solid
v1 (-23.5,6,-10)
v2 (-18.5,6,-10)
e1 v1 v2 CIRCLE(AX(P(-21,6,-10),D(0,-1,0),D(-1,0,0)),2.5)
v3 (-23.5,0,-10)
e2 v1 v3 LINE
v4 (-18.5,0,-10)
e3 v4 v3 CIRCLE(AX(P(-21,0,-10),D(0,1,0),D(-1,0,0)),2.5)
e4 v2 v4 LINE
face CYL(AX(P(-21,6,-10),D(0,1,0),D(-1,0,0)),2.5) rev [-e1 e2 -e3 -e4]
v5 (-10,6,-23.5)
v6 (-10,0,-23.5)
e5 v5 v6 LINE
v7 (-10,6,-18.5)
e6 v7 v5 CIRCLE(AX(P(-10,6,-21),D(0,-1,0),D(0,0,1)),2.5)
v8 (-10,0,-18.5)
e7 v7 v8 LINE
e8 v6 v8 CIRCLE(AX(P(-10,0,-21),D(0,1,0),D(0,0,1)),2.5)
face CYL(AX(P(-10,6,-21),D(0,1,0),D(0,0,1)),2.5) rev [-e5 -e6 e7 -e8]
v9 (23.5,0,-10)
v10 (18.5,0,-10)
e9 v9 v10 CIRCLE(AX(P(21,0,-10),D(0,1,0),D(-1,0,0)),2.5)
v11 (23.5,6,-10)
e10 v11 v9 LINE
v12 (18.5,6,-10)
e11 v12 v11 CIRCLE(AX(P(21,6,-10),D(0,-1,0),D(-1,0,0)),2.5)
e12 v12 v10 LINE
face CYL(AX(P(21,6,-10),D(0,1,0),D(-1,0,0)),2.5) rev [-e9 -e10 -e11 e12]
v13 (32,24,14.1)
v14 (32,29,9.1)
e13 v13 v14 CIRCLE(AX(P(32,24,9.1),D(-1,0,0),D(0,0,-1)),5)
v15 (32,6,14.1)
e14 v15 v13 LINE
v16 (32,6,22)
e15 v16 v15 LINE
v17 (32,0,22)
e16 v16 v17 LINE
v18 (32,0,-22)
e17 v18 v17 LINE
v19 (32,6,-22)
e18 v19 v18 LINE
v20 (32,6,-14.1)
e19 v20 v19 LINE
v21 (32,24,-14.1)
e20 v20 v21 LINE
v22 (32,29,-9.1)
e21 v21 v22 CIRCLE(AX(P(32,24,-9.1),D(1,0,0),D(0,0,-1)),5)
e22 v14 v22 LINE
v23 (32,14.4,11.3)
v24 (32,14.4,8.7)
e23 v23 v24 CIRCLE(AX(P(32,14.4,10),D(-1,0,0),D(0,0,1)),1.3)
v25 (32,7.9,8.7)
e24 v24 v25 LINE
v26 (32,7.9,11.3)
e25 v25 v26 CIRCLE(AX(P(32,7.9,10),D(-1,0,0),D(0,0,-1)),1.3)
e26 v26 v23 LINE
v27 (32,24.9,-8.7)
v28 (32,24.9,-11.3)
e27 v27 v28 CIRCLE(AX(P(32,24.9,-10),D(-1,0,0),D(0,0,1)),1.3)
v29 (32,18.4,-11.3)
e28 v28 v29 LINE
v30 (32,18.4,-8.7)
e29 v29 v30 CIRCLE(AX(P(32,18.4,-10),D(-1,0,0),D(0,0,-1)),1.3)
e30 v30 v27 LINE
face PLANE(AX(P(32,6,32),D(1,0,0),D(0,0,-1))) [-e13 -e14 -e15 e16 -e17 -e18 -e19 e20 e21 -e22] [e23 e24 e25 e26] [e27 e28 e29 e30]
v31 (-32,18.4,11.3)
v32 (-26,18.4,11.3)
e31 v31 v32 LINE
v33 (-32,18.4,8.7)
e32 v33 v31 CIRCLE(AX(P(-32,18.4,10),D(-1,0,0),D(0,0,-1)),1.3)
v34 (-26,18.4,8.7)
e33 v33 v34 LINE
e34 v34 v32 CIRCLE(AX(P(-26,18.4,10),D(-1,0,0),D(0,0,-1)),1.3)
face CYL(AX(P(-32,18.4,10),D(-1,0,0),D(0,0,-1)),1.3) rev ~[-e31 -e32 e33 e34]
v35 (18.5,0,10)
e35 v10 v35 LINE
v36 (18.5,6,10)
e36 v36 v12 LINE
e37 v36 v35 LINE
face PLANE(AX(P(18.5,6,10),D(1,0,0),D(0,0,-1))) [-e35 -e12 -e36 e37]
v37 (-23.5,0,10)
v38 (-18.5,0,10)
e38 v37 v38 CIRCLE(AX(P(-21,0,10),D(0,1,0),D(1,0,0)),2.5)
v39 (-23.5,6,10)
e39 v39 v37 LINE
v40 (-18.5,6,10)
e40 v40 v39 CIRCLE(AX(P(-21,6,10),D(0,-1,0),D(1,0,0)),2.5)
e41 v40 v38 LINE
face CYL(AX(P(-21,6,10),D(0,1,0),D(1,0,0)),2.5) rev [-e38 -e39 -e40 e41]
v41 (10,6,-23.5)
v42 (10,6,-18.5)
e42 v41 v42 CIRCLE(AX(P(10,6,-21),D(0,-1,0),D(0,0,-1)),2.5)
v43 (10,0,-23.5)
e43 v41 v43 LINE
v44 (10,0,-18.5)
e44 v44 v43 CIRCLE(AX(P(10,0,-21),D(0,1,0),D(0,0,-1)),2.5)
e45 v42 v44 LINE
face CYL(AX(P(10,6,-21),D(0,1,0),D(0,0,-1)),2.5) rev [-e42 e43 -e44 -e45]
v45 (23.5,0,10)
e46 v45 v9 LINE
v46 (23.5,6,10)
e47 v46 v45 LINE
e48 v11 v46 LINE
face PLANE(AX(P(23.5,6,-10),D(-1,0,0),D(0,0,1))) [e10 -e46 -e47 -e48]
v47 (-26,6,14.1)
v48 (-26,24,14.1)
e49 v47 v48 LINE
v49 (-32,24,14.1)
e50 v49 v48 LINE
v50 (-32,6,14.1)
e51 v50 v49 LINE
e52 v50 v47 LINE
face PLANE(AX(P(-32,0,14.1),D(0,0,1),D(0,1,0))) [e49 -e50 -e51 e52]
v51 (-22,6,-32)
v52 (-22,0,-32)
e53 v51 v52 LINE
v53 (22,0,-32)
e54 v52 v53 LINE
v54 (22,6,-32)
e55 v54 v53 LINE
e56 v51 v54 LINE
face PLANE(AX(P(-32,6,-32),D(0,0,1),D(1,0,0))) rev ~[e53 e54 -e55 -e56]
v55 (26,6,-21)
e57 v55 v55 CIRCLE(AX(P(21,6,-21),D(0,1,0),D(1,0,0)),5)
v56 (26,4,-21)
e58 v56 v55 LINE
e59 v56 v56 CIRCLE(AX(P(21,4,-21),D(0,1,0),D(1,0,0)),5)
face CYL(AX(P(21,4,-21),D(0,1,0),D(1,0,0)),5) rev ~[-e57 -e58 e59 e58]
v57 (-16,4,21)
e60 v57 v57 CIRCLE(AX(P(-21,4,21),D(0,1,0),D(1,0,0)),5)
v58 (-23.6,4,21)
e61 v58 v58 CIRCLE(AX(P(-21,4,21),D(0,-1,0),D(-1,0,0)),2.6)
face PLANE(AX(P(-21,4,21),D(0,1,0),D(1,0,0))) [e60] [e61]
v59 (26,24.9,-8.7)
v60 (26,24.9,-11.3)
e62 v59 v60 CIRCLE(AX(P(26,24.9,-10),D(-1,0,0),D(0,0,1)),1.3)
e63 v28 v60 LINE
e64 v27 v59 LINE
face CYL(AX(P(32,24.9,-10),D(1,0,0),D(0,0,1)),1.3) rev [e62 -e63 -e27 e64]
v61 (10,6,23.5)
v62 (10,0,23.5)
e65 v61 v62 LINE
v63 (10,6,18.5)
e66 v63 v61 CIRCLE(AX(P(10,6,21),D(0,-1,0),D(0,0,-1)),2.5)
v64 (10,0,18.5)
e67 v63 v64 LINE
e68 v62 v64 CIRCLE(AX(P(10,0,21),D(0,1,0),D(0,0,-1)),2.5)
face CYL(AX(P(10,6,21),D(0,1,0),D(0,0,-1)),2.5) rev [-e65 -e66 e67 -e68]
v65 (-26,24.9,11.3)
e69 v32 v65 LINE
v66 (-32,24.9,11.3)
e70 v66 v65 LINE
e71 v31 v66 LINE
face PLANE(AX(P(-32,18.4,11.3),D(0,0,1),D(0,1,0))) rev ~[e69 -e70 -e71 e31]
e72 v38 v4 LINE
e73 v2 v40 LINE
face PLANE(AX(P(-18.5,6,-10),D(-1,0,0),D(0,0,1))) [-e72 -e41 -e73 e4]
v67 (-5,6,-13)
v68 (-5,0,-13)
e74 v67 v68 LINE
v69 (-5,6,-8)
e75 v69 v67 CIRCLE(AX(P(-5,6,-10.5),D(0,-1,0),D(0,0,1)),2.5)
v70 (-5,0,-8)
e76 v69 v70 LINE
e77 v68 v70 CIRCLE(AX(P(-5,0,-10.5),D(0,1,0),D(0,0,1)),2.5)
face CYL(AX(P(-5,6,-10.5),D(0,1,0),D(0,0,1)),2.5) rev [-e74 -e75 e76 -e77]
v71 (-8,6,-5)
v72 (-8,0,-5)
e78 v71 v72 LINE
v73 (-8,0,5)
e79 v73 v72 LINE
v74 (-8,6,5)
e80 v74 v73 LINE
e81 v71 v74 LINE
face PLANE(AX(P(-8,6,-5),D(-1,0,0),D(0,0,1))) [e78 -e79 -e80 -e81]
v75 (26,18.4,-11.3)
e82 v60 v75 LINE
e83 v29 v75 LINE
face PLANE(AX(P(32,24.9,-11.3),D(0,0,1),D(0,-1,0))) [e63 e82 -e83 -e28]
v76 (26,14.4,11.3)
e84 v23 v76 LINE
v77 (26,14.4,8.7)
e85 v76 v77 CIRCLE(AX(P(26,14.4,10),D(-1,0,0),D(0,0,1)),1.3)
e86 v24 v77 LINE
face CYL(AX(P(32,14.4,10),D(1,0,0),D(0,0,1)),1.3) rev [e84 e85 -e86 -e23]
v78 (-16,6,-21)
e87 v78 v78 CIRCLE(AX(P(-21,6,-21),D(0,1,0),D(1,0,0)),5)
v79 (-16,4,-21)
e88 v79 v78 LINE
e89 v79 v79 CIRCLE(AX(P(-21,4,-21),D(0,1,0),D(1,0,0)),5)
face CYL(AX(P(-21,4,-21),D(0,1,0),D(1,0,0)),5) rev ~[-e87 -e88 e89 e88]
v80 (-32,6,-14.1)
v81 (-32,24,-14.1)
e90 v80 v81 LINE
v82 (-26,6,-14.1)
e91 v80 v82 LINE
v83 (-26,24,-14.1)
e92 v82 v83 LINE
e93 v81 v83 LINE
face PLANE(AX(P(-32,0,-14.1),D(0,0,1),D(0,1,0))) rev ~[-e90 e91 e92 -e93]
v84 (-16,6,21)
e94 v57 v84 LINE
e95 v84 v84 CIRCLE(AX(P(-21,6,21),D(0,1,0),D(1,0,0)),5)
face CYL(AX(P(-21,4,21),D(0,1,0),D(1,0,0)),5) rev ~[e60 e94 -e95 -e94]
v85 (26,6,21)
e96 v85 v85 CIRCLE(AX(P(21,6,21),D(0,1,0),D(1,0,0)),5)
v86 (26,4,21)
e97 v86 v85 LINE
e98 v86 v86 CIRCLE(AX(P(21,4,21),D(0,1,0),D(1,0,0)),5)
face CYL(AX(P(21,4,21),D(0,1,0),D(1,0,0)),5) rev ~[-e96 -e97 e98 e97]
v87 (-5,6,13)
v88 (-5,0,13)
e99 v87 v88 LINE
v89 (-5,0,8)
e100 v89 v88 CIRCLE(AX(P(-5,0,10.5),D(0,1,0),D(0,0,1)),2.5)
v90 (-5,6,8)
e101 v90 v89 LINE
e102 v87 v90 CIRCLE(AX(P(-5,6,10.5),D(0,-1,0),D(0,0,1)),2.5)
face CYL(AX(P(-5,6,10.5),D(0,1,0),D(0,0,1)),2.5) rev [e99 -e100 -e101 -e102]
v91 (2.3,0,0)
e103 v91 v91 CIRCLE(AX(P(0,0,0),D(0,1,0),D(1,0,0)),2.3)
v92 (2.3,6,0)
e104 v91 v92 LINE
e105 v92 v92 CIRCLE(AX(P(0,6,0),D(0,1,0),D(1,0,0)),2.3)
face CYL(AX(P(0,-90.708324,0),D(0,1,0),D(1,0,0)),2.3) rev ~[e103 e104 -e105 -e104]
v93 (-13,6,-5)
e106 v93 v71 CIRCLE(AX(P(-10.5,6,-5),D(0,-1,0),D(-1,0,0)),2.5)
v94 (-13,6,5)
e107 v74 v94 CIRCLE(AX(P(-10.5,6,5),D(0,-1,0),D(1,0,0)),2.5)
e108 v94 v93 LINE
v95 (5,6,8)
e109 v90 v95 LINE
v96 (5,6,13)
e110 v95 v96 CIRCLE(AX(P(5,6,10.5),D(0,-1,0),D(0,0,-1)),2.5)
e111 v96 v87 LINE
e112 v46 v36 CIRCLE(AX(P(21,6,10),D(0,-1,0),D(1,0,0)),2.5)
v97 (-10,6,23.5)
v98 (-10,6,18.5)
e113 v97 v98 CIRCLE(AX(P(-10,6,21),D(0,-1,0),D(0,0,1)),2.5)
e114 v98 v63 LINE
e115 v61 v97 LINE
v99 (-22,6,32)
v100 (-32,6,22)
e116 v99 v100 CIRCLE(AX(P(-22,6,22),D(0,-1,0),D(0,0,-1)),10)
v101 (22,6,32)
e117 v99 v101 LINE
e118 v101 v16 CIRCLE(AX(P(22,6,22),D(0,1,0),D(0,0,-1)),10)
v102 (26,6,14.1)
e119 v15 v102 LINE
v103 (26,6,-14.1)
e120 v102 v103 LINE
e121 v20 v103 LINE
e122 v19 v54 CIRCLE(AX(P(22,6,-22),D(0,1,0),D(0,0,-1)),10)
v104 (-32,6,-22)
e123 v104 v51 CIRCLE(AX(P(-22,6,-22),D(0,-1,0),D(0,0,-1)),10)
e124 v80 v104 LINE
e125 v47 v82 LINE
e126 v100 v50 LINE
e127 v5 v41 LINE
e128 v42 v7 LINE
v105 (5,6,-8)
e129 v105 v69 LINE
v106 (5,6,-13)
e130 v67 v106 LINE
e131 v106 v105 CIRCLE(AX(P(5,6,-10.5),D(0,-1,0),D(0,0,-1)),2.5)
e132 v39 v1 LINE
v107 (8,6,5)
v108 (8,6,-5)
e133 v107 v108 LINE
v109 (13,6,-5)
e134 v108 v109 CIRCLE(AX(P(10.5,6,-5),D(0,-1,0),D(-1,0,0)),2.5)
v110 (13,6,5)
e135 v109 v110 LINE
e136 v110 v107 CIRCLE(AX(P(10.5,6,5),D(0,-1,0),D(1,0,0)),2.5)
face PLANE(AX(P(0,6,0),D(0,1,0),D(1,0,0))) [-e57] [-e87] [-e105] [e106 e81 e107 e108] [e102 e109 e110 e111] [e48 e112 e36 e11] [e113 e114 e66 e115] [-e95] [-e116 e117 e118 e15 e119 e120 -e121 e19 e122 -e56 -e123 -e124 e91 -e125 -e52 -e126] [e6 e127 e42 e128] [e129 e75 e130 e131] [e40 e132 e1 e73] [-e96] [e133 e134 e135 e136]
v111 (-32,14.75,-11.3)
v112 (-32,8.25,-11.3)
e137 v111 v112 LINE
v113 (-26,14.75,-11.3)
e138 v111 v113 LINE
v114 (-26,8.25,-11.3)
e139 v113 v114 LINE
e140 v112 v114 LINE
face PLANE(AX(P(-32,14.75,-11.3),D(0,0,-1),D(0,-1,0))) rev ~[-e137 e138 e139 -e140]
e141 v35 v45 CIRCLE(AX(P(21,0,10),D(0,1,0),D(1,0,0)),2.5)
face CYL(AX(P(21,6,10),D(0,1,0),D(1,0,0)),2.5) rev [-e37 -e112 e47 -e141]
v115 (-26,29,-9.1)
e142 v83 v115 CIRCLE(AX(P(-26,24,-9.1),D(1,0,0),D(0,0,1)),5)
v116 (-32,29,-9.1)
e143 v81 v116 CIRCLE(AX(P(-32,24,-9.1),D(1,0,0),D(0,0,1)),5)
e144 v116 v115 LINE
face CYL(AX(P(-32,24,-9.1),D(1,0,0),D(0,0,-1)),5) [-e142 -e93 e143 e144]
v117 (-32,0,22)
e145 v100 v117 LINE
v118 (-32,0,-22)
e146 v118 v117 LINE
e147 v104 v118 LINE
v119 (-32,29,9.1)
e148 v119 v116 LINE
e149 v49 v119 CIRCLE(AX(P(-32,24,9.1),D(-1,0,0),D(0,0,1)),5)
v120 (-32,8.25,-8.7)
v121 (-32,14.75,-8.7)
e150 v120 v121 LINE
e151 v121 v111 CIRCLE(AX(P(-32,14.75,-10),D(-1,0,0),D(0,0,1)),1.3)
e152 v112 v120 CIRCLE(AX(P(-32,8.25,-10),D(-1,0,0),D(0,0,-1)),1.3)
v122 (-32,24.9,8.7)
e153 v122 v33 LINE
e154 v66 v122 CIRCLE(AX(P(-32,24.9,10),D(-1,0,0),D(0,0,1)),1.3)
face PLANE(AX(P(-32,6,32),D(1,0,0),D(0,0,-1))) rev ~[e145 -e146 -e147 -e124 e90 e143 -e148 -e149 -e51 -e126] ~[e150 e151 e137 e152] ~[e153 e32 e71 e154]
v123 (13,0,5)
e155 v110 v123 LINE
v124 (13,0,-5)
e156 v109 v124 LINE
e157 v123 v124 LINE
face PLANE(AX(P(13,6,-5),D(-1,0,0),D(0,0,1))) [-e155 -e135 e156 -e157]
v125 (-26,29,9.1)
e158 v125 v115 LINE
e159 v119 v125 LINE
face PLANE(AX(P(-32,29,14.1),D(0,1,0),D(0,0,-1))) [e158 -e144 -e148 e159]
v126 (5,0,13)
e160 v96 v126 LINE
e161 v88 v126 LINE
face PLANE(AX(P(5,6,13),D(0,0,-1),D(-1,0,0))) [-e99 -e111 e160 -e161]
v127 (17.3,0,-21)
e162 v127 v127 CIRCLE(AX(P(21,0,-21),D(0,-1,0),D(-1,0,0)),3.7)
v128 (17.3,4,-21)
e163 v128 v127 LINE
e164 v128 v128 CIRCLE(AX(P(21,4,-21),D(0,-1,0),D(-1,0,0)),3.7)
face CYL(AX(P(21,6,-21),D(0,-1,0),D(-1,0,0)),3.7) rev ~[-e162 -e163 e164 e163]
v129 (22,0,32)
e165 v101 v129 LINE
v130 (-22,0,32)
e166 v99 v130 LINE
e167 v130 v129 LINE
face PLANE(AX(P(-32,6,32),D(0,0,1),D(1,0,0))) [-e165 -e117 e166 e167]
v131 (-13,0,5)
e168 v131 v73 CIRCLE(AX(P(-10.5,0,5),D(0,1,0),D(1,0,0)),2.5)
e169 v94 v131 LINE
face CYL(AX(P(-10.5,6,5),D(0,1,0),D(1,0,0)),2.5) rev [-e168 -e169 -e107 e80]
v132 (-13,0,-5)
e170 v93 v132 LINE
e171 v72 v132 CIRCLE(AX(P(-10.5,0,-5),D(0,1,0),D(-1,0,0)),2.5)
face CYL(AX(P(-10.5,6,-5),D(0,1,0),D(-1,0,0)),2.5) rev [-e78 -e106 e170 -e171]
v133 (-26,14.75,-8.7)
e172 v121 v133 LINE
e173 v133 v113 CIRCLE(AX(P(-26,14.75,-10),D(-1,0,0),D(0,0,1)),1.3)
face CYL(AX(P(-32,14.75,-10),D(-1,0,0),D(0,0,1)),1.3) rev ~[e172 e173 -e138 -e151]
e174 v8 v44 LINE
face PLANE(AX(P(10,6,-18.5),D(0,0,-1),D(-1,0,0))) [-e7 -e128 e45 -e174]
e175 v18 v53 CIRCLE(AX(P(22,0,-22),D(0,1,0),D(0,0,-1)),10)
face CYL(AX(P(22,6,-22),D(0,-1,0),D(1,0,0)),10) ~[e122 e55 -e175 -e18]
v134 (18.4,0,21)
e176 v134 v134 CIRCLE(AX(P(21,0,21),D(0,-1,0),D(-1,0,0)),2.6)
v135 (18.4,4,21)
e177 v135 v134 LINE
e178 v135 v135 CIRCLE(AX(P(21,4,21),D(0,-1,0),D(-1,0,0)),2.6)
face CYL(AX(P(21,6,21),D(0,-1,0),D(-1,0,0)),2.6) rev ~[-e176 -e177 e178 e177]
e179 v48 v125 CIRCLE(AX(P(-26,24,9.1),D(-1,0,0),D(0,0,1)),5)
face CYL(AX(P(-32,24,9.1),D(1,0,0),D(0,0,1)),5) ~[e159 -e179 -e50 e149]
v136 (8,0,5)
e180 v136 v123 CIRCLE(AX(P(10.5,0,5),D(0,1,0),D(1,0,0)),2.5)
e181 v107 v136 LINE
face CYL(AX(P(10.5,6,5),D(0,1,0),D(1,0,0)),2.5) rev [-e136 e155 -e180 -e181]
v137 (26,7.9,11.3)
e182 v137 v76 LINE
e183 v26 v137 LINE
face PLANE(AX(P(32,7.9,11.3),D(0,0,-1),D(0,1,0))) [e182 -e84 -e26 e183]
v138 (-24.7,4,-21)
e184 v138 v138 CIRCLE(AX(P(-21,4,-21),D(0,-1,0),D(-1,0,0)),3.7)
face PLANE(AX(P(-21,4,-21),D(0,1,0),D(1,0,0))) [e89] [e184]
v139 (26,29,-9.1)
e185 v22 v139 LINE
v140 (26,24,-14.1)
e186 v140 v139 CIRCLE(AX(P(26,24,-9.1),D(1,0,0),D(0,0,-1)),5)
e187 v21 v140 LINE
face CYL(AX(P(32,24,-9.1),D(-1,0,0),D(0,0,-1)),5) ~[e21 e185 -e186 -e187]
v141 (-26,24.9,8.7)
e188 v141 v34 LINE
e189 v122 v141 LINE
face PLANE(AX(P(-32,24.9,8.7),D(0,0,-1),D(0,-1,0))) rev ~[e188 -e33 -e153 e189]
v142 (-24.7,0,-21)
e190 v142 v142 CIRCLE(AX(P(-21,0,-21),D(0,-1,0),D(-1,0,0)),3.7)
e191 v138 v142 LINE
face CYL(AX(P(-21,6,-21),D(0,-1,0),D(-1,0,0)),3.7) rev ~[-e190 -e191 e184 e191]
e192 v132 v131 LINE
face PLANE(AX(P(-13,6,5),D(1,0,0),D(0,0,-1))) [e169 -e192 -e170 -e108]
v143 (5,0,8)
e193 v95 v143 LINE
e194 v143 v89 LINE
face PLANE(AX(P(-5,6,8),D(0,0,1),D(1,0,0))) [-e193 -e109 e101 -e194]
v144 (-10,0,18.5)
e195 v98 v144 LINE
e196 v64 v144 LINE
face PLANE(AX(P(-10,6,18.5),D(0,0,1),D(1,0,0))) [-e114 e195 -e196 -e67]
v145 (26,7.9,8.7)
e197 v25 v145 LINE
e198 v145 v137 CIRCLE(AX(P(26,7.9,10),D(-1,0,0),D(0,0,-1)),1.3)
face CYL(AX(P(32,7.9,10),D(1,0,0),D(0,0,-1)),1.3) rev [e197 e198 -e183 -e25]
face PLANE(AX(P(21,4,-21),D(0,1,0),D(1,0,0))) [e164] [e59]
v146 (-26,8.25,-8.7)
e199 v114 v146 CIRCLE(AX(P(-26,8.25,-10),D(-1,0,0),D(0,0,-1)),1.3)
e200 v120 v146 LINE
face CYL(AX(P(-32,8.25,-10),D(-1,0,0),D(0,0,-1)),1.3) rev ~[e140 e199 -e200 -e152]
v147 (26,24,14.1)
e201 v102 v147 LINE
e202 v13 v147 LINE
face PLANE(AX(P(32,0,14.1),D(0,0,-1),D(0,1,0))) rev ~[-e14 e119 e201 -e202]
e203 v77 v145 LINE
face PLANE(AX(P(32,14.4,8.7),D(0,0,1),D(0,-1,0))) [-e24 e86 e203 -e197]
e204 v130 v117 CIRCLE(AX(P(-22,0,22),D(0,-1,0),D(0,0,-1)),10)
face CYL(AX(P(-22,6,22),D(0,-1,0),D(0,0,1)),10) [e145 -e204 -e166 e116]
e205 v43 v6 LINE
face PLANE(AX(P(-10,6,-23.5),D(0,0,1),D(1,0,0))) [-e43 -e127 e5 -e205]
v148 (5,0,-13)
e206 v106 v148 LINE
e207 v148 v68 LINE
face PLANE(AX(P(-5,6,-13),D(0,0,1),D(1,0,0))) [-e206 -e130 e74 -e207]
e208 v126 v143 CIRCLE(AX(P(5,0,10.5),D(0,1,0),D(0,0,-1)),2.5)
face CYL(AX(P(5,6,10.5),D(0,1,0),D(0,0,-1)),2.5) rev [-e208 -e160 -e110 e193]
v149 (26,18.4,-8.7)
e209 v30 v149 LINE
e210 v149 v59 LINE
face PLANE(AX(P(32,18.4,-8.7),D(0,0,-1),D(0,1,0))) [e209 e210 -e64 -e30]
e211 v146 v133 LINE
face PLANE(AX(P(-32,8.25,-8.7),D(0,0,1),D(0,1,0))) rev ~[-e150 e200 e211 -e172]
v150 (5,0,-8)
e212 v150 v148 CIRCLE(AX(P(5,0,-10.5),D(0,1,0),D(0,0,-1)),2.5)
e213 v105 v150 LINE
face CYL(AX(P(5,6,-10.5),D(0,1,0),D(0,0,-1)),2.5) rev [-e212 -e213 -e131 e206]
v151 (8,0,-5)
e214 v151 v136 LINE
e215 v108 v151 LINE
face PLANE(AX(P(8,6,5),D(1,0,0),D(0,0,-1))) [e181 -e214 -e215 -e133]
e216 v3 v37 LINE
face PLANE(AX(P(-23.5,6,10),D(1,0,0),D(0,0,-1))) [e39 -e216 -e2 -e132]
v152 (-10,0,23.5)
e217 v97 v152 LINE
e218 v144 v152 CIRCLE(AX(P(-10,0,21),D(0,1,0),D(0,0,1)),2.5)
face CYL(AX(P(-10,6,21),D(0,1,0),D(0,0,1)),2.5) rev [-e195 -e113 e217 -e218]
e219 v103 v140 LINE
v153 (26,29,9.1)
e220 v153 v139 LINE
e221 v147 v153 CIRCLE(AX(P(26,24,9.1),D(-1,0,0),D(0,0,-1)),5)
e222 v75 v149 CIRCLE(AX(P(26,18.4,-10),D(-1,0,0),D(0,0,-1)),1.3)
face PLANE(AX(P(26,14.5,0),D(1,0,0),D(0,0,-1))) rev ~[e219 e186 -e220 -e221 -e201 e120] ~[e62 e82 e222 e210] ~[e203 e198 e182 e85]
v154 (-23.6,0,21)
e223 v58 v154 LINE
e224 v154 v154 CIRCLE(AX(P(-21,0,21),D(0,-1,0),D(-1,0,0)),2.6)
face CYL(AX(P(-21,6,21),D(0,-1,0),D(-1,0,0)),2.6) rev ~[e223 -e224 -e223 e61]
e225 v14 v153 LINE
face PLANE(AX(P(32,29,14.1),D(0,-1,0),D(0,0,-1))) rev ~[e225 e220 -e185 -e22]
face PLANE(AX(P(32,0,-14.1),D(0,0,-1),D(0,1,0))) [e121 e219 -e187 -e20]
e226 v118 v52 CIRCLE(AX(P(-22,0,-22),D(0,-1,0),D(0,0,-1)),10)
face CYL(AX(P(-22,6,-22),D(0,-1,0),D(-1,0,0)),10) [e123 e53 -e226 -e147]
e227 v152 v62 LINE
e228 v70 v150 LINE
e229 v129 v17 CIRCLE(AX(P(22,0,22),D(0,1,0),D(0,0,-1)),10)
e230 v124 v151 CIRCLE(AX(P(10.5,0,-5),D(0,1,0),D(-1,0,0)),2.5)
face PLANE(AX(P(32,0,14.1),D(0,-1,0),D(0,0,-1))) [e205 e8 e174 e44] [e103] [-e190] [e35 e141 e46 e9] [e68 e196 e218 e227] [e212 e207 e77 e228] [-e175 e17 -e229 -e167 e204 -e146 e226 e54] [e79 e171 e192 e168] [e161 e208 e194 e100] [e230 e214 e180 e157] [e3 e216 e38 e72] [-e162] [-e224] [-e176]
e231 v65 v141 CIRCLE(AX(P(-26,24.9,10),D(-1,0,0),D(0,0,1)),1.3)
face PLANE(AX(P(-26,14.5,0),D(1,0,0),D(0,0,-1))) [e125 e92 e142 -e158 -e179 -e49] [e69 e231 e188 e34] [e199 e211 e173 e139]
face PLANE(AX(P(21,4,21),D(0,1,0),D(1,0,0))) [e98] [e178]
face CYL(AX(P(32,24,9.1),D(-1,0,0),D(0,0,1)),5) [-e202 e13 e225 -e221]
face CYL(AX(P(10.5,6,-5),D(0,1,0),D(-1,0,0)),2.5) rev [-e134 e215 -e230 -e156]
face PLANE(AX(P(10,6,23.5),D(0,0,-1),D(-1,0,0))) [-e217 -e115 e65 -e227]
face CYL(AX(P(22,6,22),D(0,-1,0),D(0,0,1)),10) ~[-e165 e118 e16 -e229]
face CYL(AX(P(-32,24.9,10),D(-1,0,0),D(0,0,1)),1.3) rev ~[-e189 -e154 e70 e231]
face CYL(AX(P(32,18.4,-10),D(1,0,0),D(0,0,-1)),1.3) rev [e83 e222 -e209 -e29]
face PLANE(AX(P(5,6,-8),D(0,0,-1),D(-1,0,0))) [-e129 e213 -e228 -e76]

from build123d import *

# Parameters (mm, degrees)
SKETCH1_W                        = 64
SKETCH1_H                        = 64
BOSS_EXTRUDE1_DEPTH              = 6
F_4_6_4_6_DIAMETER_HOLE1_D       = 4.6
CBORE_FOR_M6_5_SHSS1_D           = 7.4
CBORE_FOR_M6_5_SHSS1_CBORE_D     = 10
CBORE_FOR_M6_5_SHSS1_CBORE_DEPTH = 2
M10X1_0_TAPPED_HOLE1_D           = 5.2
M10X1_0_TAPPED_HOLE1_CBORE_D     = 10
M10X1_0_TAPPED_HOLE1_CBORE_DEPTH = 2
BOSS_EXTRUDE4_START              = -32
SKETCH15_W                       = 28.2
SKETCH15_H                       = 29
BOSS_EXTRUDE4_DEPTH              = 6
BOSS_EXTRUDE5_START              = 32
SKETCH16_W                       = 28.2
SKETCH16_H                       = 29
BOSS_EXTRUDE5_DEPTH              = 6
CUT_EXTRUDE3_DEPTH               = 7
FILLET3_R                        = 10
FILLET4_R                        = 5


with BuildPart() as part:
    # Sketch1 → Boss-Extrude1 (new body)
    with BuildSketch(Plane(origin=(0, 6, 0), x_dir=(1, 0, 0), z_dir=(0, 1, 0))):
        Rectangle(SKETCH1_W, SKETCH1_H)
    extrude(amount=-BOSS_EXTRUDE1_DEPTH)

    # Ø4.6 (4.6) Diameter Hole1 (through all)
    with Locations(Plane(origin=(0, 0, 0), x_dir=(-1, 0, 0), z_dir=(0, -1, 0))):
        with Locations((0, 0)):
            Hole(F_4_6_4_6_DIAMETER_HOLE1_D / 2)

    # CBORE for M6.5 SHSS1 (through all)
    with Locations(Plane(origin=(0, 6, 0), x_dir=(1, 0, 0), z_dir=(0, 1, 0))):
        with Locations((21, 21), (-21, 21)):
            CounterBoreHole(CBORE_FOR_M6_5_SHSS1_D / 2, CBORE_FOR_M6_5_SHSS1_CBORE_D / 2, CBORE_FOR_M6_5_SHSS1_CBORE_DEPTH)

    # M10x1.0 Tapped Hole1 (through all)
    with Locations(Plane(origin=(0, 6, 0), x_dir=(1, 0, 0), z_dir=(0, 1, 0))):
        with Locations((-21, -21), (-21, 21), (21, -21)):
            CounterBoreHole(M10X1_0_TAPPED_HOLE1_D / 2, M10X1_0_TAPPED_HOLE1_CBORE_D / 2, M10X1_0_TAPPED_HOLE1_CBORE_DEPTH)

    # Sketch15 → Boss-Extrude4 (add)
    with BuildSketch(Plane(origin=(0, 0, 0), x_dir=(0, 0, -1), z_dir=(1, 0, 0)).offset(BOSS_EXTRUDE4_START)):
        with Locations((0, 14.5)):
            Rectangle(SKETCH15_W, SKETCH15_H)
        with BuildLine():
            Line((-11.3, 18.4), (-11.3, 24.9))
            ThreePointArc((-11.3, 24.9), (-10, 26.2), (-8.7, 24.9))
            Line((-8.7, 24.9), (-8.7, 18.4))
            ThreePointArc((-8.7, 18.4), (-10, 17.1), (-11.3, 18.4))
        make_face(mode=Mode.SUBTRACT)
        with BuildLine():
            Line((8.7, 8.25), (8.7, 14.75))
            ThreePointArc((8.7, 14.75), (10, 16.05), (11.3, 14.75))
            Line((11.3, 14.75), (11.3, 8.25))
            ThreePointArc((11.3, 8.25), (10, 6.95), (8.7, 8.25))
        make_face(mode=Mode.SUBTRACT)
    extrude(amount=BOSS_EXTRUDE4_DEPTH)

    # Sketch16 → Boss-Extrude5 (add)
    with BuildSketch(Plane(origin=(0, 0, 0), x_dir=(0, 0, -1), z_dir=(1, 0, 0)).offset(BOSS_EXTRUDE5_START)):
        with Locations((0, 14.5)):
            Rectangle(SKETCH16_W, SKETCH16_H)
        with BuildLine():
            Line((-11.3, 7.9), (-11.3, 14.4))
            ThreePointArc((-11.3, 14.4), (-10, 15.7), (-8.7, 14.4))
            Line((-8.7, 14.4), (-8.7, 7.9))
            ThreePointArc((-8.7, 7.9), (-10, 6.6), (-11.3, 7.9))
        make_face(mode=Mode.SUBTRACT)
        with BuildLine():
            Line((8.7, 18.4), (8.7, 24.9))
            ThreePointArc((8.7, 24.9), (10, 26.2), (11.3, 24.9))
            Line((11.3, 24.9), (11.3, 18.4))
            ThreePointArc((11.3, 18.4), (10, 17.1), (8.7, 18.4))
        make_face(mode=Mode.SUBTRACT)
    extrude(amount=-BOSS_EXTRUDE5_DEPTH)

    # Sketch17 → Cut-Extrude3 (cut, through all)
    with BuildSketch(Plane(origin=(0, 6, 0), x_dir=(1, 0, 0), z_dir=(0, 1, 0))):
        with BuildLine():
            Line((8, -5), (8, 5))
            ThreePointArc((8, 5), (10.5, 7.5), (13, 5))
            Line((13, 5), (13, -5))
            ThreePointArc((13, -5), (10.5, -7.5), (8, -5))
        make_face()
        with BuildLine():
            Line((18.5, -10), (18.5, 10))
            ThreePointArc((18.5, 10), (21, 12.5), (23.5, 10))
            Line((23.5, 10), (23.5, -10))
            ThreePointArc((23.5, -10), (21, -12.5), (18.5, -10))
        make_face()
        with BuildLine():
            Line((-5, -8), (5, -8))
            ThreePointArc((5, -8), (7.5, -10.5), (5, -13))
            Line((5, -13), (-5, -13))
            ThreePointArc((-5, -13), (-7.5, -10.5), (-5, -8))
        make_face()
        with BuildLine():
            Line((-10, -18.5), (10, -18.5))
            ThreePointArc((10, -18.5), (12.5, -21), (10, -23.5))
            Line((10, -23.5), (-10, -23.5))
            ThreePointArc((-10, -23.5), (-12.5, -21), (-10, -18.5))
        make_face()
        with BuildLine():
            Line((-8, 5), (-8, -5))
            ThreePointArc((-8, -5), (-10.5, -7.5), (-13, -5))
            Line((-13, -5), (-13, 5))
            ThreePointArc((-13, 5), (-10.5, 7.5), (-8, 5))
        make_face()
        with BuildLine():
            Line((-18.5, 10), (-18.5, -10))
            ThreePointArc((-18.5, -10), (-21, -12.5), (-23.5, -10))
            Line((-23.5, -10), (-23.5, 10))
            ThreePointArc((-23.5, 10), (-21, 12.5), (-18.5, 10))
        make_face()
        with BuildLine():
            Line((5, 8), (-5, 8))
            ThreePointArc((-5, 8), (-7.5, 10.5), (-5, 13))
            Line((-5, 13), (5, 13))
            ThreePointArc((5, 13), (7.5, 10.5), (5, 8))
        make_face()
        with BuildLine():
            Line((10, 18.5), (-10, 18.5))
            ThreePointArc((-10, 18.5), (-12.5, 21), (-10, 23.5))
            Line((-10, 23.5), (10, 23.5))
            ThreePointArc((10, 23.5), (12.5, 21), (10, 18.5))
        make_face()
    extrude(amount=-CUT_EXTRUDE3_DEPTH, mode=Mode.SUBTRACT)

    # Fillet3
    fillet3_edges = [part.edges().sort_by_distance(p)[0] for p in [
        (-32, 3, -32),
        (32, 3, -32),
        (32, 3, 32),
        (-32, 3, 32),
    ]]
    fillet(fillet3_edges, radius=FILLET3_R)

    # Fillet4
    fillet4_edges = [part.edges().sort_by_distance(p)[0] for p in [
        (-29, 29, -14.1),
        (-29, 29, 14.1),
        (29, 29, -14.1),
        (29, 29, 14.1),
    ]]
    fillet(fillet4_edges, radius=FILLET4_R)


solid = part.part
